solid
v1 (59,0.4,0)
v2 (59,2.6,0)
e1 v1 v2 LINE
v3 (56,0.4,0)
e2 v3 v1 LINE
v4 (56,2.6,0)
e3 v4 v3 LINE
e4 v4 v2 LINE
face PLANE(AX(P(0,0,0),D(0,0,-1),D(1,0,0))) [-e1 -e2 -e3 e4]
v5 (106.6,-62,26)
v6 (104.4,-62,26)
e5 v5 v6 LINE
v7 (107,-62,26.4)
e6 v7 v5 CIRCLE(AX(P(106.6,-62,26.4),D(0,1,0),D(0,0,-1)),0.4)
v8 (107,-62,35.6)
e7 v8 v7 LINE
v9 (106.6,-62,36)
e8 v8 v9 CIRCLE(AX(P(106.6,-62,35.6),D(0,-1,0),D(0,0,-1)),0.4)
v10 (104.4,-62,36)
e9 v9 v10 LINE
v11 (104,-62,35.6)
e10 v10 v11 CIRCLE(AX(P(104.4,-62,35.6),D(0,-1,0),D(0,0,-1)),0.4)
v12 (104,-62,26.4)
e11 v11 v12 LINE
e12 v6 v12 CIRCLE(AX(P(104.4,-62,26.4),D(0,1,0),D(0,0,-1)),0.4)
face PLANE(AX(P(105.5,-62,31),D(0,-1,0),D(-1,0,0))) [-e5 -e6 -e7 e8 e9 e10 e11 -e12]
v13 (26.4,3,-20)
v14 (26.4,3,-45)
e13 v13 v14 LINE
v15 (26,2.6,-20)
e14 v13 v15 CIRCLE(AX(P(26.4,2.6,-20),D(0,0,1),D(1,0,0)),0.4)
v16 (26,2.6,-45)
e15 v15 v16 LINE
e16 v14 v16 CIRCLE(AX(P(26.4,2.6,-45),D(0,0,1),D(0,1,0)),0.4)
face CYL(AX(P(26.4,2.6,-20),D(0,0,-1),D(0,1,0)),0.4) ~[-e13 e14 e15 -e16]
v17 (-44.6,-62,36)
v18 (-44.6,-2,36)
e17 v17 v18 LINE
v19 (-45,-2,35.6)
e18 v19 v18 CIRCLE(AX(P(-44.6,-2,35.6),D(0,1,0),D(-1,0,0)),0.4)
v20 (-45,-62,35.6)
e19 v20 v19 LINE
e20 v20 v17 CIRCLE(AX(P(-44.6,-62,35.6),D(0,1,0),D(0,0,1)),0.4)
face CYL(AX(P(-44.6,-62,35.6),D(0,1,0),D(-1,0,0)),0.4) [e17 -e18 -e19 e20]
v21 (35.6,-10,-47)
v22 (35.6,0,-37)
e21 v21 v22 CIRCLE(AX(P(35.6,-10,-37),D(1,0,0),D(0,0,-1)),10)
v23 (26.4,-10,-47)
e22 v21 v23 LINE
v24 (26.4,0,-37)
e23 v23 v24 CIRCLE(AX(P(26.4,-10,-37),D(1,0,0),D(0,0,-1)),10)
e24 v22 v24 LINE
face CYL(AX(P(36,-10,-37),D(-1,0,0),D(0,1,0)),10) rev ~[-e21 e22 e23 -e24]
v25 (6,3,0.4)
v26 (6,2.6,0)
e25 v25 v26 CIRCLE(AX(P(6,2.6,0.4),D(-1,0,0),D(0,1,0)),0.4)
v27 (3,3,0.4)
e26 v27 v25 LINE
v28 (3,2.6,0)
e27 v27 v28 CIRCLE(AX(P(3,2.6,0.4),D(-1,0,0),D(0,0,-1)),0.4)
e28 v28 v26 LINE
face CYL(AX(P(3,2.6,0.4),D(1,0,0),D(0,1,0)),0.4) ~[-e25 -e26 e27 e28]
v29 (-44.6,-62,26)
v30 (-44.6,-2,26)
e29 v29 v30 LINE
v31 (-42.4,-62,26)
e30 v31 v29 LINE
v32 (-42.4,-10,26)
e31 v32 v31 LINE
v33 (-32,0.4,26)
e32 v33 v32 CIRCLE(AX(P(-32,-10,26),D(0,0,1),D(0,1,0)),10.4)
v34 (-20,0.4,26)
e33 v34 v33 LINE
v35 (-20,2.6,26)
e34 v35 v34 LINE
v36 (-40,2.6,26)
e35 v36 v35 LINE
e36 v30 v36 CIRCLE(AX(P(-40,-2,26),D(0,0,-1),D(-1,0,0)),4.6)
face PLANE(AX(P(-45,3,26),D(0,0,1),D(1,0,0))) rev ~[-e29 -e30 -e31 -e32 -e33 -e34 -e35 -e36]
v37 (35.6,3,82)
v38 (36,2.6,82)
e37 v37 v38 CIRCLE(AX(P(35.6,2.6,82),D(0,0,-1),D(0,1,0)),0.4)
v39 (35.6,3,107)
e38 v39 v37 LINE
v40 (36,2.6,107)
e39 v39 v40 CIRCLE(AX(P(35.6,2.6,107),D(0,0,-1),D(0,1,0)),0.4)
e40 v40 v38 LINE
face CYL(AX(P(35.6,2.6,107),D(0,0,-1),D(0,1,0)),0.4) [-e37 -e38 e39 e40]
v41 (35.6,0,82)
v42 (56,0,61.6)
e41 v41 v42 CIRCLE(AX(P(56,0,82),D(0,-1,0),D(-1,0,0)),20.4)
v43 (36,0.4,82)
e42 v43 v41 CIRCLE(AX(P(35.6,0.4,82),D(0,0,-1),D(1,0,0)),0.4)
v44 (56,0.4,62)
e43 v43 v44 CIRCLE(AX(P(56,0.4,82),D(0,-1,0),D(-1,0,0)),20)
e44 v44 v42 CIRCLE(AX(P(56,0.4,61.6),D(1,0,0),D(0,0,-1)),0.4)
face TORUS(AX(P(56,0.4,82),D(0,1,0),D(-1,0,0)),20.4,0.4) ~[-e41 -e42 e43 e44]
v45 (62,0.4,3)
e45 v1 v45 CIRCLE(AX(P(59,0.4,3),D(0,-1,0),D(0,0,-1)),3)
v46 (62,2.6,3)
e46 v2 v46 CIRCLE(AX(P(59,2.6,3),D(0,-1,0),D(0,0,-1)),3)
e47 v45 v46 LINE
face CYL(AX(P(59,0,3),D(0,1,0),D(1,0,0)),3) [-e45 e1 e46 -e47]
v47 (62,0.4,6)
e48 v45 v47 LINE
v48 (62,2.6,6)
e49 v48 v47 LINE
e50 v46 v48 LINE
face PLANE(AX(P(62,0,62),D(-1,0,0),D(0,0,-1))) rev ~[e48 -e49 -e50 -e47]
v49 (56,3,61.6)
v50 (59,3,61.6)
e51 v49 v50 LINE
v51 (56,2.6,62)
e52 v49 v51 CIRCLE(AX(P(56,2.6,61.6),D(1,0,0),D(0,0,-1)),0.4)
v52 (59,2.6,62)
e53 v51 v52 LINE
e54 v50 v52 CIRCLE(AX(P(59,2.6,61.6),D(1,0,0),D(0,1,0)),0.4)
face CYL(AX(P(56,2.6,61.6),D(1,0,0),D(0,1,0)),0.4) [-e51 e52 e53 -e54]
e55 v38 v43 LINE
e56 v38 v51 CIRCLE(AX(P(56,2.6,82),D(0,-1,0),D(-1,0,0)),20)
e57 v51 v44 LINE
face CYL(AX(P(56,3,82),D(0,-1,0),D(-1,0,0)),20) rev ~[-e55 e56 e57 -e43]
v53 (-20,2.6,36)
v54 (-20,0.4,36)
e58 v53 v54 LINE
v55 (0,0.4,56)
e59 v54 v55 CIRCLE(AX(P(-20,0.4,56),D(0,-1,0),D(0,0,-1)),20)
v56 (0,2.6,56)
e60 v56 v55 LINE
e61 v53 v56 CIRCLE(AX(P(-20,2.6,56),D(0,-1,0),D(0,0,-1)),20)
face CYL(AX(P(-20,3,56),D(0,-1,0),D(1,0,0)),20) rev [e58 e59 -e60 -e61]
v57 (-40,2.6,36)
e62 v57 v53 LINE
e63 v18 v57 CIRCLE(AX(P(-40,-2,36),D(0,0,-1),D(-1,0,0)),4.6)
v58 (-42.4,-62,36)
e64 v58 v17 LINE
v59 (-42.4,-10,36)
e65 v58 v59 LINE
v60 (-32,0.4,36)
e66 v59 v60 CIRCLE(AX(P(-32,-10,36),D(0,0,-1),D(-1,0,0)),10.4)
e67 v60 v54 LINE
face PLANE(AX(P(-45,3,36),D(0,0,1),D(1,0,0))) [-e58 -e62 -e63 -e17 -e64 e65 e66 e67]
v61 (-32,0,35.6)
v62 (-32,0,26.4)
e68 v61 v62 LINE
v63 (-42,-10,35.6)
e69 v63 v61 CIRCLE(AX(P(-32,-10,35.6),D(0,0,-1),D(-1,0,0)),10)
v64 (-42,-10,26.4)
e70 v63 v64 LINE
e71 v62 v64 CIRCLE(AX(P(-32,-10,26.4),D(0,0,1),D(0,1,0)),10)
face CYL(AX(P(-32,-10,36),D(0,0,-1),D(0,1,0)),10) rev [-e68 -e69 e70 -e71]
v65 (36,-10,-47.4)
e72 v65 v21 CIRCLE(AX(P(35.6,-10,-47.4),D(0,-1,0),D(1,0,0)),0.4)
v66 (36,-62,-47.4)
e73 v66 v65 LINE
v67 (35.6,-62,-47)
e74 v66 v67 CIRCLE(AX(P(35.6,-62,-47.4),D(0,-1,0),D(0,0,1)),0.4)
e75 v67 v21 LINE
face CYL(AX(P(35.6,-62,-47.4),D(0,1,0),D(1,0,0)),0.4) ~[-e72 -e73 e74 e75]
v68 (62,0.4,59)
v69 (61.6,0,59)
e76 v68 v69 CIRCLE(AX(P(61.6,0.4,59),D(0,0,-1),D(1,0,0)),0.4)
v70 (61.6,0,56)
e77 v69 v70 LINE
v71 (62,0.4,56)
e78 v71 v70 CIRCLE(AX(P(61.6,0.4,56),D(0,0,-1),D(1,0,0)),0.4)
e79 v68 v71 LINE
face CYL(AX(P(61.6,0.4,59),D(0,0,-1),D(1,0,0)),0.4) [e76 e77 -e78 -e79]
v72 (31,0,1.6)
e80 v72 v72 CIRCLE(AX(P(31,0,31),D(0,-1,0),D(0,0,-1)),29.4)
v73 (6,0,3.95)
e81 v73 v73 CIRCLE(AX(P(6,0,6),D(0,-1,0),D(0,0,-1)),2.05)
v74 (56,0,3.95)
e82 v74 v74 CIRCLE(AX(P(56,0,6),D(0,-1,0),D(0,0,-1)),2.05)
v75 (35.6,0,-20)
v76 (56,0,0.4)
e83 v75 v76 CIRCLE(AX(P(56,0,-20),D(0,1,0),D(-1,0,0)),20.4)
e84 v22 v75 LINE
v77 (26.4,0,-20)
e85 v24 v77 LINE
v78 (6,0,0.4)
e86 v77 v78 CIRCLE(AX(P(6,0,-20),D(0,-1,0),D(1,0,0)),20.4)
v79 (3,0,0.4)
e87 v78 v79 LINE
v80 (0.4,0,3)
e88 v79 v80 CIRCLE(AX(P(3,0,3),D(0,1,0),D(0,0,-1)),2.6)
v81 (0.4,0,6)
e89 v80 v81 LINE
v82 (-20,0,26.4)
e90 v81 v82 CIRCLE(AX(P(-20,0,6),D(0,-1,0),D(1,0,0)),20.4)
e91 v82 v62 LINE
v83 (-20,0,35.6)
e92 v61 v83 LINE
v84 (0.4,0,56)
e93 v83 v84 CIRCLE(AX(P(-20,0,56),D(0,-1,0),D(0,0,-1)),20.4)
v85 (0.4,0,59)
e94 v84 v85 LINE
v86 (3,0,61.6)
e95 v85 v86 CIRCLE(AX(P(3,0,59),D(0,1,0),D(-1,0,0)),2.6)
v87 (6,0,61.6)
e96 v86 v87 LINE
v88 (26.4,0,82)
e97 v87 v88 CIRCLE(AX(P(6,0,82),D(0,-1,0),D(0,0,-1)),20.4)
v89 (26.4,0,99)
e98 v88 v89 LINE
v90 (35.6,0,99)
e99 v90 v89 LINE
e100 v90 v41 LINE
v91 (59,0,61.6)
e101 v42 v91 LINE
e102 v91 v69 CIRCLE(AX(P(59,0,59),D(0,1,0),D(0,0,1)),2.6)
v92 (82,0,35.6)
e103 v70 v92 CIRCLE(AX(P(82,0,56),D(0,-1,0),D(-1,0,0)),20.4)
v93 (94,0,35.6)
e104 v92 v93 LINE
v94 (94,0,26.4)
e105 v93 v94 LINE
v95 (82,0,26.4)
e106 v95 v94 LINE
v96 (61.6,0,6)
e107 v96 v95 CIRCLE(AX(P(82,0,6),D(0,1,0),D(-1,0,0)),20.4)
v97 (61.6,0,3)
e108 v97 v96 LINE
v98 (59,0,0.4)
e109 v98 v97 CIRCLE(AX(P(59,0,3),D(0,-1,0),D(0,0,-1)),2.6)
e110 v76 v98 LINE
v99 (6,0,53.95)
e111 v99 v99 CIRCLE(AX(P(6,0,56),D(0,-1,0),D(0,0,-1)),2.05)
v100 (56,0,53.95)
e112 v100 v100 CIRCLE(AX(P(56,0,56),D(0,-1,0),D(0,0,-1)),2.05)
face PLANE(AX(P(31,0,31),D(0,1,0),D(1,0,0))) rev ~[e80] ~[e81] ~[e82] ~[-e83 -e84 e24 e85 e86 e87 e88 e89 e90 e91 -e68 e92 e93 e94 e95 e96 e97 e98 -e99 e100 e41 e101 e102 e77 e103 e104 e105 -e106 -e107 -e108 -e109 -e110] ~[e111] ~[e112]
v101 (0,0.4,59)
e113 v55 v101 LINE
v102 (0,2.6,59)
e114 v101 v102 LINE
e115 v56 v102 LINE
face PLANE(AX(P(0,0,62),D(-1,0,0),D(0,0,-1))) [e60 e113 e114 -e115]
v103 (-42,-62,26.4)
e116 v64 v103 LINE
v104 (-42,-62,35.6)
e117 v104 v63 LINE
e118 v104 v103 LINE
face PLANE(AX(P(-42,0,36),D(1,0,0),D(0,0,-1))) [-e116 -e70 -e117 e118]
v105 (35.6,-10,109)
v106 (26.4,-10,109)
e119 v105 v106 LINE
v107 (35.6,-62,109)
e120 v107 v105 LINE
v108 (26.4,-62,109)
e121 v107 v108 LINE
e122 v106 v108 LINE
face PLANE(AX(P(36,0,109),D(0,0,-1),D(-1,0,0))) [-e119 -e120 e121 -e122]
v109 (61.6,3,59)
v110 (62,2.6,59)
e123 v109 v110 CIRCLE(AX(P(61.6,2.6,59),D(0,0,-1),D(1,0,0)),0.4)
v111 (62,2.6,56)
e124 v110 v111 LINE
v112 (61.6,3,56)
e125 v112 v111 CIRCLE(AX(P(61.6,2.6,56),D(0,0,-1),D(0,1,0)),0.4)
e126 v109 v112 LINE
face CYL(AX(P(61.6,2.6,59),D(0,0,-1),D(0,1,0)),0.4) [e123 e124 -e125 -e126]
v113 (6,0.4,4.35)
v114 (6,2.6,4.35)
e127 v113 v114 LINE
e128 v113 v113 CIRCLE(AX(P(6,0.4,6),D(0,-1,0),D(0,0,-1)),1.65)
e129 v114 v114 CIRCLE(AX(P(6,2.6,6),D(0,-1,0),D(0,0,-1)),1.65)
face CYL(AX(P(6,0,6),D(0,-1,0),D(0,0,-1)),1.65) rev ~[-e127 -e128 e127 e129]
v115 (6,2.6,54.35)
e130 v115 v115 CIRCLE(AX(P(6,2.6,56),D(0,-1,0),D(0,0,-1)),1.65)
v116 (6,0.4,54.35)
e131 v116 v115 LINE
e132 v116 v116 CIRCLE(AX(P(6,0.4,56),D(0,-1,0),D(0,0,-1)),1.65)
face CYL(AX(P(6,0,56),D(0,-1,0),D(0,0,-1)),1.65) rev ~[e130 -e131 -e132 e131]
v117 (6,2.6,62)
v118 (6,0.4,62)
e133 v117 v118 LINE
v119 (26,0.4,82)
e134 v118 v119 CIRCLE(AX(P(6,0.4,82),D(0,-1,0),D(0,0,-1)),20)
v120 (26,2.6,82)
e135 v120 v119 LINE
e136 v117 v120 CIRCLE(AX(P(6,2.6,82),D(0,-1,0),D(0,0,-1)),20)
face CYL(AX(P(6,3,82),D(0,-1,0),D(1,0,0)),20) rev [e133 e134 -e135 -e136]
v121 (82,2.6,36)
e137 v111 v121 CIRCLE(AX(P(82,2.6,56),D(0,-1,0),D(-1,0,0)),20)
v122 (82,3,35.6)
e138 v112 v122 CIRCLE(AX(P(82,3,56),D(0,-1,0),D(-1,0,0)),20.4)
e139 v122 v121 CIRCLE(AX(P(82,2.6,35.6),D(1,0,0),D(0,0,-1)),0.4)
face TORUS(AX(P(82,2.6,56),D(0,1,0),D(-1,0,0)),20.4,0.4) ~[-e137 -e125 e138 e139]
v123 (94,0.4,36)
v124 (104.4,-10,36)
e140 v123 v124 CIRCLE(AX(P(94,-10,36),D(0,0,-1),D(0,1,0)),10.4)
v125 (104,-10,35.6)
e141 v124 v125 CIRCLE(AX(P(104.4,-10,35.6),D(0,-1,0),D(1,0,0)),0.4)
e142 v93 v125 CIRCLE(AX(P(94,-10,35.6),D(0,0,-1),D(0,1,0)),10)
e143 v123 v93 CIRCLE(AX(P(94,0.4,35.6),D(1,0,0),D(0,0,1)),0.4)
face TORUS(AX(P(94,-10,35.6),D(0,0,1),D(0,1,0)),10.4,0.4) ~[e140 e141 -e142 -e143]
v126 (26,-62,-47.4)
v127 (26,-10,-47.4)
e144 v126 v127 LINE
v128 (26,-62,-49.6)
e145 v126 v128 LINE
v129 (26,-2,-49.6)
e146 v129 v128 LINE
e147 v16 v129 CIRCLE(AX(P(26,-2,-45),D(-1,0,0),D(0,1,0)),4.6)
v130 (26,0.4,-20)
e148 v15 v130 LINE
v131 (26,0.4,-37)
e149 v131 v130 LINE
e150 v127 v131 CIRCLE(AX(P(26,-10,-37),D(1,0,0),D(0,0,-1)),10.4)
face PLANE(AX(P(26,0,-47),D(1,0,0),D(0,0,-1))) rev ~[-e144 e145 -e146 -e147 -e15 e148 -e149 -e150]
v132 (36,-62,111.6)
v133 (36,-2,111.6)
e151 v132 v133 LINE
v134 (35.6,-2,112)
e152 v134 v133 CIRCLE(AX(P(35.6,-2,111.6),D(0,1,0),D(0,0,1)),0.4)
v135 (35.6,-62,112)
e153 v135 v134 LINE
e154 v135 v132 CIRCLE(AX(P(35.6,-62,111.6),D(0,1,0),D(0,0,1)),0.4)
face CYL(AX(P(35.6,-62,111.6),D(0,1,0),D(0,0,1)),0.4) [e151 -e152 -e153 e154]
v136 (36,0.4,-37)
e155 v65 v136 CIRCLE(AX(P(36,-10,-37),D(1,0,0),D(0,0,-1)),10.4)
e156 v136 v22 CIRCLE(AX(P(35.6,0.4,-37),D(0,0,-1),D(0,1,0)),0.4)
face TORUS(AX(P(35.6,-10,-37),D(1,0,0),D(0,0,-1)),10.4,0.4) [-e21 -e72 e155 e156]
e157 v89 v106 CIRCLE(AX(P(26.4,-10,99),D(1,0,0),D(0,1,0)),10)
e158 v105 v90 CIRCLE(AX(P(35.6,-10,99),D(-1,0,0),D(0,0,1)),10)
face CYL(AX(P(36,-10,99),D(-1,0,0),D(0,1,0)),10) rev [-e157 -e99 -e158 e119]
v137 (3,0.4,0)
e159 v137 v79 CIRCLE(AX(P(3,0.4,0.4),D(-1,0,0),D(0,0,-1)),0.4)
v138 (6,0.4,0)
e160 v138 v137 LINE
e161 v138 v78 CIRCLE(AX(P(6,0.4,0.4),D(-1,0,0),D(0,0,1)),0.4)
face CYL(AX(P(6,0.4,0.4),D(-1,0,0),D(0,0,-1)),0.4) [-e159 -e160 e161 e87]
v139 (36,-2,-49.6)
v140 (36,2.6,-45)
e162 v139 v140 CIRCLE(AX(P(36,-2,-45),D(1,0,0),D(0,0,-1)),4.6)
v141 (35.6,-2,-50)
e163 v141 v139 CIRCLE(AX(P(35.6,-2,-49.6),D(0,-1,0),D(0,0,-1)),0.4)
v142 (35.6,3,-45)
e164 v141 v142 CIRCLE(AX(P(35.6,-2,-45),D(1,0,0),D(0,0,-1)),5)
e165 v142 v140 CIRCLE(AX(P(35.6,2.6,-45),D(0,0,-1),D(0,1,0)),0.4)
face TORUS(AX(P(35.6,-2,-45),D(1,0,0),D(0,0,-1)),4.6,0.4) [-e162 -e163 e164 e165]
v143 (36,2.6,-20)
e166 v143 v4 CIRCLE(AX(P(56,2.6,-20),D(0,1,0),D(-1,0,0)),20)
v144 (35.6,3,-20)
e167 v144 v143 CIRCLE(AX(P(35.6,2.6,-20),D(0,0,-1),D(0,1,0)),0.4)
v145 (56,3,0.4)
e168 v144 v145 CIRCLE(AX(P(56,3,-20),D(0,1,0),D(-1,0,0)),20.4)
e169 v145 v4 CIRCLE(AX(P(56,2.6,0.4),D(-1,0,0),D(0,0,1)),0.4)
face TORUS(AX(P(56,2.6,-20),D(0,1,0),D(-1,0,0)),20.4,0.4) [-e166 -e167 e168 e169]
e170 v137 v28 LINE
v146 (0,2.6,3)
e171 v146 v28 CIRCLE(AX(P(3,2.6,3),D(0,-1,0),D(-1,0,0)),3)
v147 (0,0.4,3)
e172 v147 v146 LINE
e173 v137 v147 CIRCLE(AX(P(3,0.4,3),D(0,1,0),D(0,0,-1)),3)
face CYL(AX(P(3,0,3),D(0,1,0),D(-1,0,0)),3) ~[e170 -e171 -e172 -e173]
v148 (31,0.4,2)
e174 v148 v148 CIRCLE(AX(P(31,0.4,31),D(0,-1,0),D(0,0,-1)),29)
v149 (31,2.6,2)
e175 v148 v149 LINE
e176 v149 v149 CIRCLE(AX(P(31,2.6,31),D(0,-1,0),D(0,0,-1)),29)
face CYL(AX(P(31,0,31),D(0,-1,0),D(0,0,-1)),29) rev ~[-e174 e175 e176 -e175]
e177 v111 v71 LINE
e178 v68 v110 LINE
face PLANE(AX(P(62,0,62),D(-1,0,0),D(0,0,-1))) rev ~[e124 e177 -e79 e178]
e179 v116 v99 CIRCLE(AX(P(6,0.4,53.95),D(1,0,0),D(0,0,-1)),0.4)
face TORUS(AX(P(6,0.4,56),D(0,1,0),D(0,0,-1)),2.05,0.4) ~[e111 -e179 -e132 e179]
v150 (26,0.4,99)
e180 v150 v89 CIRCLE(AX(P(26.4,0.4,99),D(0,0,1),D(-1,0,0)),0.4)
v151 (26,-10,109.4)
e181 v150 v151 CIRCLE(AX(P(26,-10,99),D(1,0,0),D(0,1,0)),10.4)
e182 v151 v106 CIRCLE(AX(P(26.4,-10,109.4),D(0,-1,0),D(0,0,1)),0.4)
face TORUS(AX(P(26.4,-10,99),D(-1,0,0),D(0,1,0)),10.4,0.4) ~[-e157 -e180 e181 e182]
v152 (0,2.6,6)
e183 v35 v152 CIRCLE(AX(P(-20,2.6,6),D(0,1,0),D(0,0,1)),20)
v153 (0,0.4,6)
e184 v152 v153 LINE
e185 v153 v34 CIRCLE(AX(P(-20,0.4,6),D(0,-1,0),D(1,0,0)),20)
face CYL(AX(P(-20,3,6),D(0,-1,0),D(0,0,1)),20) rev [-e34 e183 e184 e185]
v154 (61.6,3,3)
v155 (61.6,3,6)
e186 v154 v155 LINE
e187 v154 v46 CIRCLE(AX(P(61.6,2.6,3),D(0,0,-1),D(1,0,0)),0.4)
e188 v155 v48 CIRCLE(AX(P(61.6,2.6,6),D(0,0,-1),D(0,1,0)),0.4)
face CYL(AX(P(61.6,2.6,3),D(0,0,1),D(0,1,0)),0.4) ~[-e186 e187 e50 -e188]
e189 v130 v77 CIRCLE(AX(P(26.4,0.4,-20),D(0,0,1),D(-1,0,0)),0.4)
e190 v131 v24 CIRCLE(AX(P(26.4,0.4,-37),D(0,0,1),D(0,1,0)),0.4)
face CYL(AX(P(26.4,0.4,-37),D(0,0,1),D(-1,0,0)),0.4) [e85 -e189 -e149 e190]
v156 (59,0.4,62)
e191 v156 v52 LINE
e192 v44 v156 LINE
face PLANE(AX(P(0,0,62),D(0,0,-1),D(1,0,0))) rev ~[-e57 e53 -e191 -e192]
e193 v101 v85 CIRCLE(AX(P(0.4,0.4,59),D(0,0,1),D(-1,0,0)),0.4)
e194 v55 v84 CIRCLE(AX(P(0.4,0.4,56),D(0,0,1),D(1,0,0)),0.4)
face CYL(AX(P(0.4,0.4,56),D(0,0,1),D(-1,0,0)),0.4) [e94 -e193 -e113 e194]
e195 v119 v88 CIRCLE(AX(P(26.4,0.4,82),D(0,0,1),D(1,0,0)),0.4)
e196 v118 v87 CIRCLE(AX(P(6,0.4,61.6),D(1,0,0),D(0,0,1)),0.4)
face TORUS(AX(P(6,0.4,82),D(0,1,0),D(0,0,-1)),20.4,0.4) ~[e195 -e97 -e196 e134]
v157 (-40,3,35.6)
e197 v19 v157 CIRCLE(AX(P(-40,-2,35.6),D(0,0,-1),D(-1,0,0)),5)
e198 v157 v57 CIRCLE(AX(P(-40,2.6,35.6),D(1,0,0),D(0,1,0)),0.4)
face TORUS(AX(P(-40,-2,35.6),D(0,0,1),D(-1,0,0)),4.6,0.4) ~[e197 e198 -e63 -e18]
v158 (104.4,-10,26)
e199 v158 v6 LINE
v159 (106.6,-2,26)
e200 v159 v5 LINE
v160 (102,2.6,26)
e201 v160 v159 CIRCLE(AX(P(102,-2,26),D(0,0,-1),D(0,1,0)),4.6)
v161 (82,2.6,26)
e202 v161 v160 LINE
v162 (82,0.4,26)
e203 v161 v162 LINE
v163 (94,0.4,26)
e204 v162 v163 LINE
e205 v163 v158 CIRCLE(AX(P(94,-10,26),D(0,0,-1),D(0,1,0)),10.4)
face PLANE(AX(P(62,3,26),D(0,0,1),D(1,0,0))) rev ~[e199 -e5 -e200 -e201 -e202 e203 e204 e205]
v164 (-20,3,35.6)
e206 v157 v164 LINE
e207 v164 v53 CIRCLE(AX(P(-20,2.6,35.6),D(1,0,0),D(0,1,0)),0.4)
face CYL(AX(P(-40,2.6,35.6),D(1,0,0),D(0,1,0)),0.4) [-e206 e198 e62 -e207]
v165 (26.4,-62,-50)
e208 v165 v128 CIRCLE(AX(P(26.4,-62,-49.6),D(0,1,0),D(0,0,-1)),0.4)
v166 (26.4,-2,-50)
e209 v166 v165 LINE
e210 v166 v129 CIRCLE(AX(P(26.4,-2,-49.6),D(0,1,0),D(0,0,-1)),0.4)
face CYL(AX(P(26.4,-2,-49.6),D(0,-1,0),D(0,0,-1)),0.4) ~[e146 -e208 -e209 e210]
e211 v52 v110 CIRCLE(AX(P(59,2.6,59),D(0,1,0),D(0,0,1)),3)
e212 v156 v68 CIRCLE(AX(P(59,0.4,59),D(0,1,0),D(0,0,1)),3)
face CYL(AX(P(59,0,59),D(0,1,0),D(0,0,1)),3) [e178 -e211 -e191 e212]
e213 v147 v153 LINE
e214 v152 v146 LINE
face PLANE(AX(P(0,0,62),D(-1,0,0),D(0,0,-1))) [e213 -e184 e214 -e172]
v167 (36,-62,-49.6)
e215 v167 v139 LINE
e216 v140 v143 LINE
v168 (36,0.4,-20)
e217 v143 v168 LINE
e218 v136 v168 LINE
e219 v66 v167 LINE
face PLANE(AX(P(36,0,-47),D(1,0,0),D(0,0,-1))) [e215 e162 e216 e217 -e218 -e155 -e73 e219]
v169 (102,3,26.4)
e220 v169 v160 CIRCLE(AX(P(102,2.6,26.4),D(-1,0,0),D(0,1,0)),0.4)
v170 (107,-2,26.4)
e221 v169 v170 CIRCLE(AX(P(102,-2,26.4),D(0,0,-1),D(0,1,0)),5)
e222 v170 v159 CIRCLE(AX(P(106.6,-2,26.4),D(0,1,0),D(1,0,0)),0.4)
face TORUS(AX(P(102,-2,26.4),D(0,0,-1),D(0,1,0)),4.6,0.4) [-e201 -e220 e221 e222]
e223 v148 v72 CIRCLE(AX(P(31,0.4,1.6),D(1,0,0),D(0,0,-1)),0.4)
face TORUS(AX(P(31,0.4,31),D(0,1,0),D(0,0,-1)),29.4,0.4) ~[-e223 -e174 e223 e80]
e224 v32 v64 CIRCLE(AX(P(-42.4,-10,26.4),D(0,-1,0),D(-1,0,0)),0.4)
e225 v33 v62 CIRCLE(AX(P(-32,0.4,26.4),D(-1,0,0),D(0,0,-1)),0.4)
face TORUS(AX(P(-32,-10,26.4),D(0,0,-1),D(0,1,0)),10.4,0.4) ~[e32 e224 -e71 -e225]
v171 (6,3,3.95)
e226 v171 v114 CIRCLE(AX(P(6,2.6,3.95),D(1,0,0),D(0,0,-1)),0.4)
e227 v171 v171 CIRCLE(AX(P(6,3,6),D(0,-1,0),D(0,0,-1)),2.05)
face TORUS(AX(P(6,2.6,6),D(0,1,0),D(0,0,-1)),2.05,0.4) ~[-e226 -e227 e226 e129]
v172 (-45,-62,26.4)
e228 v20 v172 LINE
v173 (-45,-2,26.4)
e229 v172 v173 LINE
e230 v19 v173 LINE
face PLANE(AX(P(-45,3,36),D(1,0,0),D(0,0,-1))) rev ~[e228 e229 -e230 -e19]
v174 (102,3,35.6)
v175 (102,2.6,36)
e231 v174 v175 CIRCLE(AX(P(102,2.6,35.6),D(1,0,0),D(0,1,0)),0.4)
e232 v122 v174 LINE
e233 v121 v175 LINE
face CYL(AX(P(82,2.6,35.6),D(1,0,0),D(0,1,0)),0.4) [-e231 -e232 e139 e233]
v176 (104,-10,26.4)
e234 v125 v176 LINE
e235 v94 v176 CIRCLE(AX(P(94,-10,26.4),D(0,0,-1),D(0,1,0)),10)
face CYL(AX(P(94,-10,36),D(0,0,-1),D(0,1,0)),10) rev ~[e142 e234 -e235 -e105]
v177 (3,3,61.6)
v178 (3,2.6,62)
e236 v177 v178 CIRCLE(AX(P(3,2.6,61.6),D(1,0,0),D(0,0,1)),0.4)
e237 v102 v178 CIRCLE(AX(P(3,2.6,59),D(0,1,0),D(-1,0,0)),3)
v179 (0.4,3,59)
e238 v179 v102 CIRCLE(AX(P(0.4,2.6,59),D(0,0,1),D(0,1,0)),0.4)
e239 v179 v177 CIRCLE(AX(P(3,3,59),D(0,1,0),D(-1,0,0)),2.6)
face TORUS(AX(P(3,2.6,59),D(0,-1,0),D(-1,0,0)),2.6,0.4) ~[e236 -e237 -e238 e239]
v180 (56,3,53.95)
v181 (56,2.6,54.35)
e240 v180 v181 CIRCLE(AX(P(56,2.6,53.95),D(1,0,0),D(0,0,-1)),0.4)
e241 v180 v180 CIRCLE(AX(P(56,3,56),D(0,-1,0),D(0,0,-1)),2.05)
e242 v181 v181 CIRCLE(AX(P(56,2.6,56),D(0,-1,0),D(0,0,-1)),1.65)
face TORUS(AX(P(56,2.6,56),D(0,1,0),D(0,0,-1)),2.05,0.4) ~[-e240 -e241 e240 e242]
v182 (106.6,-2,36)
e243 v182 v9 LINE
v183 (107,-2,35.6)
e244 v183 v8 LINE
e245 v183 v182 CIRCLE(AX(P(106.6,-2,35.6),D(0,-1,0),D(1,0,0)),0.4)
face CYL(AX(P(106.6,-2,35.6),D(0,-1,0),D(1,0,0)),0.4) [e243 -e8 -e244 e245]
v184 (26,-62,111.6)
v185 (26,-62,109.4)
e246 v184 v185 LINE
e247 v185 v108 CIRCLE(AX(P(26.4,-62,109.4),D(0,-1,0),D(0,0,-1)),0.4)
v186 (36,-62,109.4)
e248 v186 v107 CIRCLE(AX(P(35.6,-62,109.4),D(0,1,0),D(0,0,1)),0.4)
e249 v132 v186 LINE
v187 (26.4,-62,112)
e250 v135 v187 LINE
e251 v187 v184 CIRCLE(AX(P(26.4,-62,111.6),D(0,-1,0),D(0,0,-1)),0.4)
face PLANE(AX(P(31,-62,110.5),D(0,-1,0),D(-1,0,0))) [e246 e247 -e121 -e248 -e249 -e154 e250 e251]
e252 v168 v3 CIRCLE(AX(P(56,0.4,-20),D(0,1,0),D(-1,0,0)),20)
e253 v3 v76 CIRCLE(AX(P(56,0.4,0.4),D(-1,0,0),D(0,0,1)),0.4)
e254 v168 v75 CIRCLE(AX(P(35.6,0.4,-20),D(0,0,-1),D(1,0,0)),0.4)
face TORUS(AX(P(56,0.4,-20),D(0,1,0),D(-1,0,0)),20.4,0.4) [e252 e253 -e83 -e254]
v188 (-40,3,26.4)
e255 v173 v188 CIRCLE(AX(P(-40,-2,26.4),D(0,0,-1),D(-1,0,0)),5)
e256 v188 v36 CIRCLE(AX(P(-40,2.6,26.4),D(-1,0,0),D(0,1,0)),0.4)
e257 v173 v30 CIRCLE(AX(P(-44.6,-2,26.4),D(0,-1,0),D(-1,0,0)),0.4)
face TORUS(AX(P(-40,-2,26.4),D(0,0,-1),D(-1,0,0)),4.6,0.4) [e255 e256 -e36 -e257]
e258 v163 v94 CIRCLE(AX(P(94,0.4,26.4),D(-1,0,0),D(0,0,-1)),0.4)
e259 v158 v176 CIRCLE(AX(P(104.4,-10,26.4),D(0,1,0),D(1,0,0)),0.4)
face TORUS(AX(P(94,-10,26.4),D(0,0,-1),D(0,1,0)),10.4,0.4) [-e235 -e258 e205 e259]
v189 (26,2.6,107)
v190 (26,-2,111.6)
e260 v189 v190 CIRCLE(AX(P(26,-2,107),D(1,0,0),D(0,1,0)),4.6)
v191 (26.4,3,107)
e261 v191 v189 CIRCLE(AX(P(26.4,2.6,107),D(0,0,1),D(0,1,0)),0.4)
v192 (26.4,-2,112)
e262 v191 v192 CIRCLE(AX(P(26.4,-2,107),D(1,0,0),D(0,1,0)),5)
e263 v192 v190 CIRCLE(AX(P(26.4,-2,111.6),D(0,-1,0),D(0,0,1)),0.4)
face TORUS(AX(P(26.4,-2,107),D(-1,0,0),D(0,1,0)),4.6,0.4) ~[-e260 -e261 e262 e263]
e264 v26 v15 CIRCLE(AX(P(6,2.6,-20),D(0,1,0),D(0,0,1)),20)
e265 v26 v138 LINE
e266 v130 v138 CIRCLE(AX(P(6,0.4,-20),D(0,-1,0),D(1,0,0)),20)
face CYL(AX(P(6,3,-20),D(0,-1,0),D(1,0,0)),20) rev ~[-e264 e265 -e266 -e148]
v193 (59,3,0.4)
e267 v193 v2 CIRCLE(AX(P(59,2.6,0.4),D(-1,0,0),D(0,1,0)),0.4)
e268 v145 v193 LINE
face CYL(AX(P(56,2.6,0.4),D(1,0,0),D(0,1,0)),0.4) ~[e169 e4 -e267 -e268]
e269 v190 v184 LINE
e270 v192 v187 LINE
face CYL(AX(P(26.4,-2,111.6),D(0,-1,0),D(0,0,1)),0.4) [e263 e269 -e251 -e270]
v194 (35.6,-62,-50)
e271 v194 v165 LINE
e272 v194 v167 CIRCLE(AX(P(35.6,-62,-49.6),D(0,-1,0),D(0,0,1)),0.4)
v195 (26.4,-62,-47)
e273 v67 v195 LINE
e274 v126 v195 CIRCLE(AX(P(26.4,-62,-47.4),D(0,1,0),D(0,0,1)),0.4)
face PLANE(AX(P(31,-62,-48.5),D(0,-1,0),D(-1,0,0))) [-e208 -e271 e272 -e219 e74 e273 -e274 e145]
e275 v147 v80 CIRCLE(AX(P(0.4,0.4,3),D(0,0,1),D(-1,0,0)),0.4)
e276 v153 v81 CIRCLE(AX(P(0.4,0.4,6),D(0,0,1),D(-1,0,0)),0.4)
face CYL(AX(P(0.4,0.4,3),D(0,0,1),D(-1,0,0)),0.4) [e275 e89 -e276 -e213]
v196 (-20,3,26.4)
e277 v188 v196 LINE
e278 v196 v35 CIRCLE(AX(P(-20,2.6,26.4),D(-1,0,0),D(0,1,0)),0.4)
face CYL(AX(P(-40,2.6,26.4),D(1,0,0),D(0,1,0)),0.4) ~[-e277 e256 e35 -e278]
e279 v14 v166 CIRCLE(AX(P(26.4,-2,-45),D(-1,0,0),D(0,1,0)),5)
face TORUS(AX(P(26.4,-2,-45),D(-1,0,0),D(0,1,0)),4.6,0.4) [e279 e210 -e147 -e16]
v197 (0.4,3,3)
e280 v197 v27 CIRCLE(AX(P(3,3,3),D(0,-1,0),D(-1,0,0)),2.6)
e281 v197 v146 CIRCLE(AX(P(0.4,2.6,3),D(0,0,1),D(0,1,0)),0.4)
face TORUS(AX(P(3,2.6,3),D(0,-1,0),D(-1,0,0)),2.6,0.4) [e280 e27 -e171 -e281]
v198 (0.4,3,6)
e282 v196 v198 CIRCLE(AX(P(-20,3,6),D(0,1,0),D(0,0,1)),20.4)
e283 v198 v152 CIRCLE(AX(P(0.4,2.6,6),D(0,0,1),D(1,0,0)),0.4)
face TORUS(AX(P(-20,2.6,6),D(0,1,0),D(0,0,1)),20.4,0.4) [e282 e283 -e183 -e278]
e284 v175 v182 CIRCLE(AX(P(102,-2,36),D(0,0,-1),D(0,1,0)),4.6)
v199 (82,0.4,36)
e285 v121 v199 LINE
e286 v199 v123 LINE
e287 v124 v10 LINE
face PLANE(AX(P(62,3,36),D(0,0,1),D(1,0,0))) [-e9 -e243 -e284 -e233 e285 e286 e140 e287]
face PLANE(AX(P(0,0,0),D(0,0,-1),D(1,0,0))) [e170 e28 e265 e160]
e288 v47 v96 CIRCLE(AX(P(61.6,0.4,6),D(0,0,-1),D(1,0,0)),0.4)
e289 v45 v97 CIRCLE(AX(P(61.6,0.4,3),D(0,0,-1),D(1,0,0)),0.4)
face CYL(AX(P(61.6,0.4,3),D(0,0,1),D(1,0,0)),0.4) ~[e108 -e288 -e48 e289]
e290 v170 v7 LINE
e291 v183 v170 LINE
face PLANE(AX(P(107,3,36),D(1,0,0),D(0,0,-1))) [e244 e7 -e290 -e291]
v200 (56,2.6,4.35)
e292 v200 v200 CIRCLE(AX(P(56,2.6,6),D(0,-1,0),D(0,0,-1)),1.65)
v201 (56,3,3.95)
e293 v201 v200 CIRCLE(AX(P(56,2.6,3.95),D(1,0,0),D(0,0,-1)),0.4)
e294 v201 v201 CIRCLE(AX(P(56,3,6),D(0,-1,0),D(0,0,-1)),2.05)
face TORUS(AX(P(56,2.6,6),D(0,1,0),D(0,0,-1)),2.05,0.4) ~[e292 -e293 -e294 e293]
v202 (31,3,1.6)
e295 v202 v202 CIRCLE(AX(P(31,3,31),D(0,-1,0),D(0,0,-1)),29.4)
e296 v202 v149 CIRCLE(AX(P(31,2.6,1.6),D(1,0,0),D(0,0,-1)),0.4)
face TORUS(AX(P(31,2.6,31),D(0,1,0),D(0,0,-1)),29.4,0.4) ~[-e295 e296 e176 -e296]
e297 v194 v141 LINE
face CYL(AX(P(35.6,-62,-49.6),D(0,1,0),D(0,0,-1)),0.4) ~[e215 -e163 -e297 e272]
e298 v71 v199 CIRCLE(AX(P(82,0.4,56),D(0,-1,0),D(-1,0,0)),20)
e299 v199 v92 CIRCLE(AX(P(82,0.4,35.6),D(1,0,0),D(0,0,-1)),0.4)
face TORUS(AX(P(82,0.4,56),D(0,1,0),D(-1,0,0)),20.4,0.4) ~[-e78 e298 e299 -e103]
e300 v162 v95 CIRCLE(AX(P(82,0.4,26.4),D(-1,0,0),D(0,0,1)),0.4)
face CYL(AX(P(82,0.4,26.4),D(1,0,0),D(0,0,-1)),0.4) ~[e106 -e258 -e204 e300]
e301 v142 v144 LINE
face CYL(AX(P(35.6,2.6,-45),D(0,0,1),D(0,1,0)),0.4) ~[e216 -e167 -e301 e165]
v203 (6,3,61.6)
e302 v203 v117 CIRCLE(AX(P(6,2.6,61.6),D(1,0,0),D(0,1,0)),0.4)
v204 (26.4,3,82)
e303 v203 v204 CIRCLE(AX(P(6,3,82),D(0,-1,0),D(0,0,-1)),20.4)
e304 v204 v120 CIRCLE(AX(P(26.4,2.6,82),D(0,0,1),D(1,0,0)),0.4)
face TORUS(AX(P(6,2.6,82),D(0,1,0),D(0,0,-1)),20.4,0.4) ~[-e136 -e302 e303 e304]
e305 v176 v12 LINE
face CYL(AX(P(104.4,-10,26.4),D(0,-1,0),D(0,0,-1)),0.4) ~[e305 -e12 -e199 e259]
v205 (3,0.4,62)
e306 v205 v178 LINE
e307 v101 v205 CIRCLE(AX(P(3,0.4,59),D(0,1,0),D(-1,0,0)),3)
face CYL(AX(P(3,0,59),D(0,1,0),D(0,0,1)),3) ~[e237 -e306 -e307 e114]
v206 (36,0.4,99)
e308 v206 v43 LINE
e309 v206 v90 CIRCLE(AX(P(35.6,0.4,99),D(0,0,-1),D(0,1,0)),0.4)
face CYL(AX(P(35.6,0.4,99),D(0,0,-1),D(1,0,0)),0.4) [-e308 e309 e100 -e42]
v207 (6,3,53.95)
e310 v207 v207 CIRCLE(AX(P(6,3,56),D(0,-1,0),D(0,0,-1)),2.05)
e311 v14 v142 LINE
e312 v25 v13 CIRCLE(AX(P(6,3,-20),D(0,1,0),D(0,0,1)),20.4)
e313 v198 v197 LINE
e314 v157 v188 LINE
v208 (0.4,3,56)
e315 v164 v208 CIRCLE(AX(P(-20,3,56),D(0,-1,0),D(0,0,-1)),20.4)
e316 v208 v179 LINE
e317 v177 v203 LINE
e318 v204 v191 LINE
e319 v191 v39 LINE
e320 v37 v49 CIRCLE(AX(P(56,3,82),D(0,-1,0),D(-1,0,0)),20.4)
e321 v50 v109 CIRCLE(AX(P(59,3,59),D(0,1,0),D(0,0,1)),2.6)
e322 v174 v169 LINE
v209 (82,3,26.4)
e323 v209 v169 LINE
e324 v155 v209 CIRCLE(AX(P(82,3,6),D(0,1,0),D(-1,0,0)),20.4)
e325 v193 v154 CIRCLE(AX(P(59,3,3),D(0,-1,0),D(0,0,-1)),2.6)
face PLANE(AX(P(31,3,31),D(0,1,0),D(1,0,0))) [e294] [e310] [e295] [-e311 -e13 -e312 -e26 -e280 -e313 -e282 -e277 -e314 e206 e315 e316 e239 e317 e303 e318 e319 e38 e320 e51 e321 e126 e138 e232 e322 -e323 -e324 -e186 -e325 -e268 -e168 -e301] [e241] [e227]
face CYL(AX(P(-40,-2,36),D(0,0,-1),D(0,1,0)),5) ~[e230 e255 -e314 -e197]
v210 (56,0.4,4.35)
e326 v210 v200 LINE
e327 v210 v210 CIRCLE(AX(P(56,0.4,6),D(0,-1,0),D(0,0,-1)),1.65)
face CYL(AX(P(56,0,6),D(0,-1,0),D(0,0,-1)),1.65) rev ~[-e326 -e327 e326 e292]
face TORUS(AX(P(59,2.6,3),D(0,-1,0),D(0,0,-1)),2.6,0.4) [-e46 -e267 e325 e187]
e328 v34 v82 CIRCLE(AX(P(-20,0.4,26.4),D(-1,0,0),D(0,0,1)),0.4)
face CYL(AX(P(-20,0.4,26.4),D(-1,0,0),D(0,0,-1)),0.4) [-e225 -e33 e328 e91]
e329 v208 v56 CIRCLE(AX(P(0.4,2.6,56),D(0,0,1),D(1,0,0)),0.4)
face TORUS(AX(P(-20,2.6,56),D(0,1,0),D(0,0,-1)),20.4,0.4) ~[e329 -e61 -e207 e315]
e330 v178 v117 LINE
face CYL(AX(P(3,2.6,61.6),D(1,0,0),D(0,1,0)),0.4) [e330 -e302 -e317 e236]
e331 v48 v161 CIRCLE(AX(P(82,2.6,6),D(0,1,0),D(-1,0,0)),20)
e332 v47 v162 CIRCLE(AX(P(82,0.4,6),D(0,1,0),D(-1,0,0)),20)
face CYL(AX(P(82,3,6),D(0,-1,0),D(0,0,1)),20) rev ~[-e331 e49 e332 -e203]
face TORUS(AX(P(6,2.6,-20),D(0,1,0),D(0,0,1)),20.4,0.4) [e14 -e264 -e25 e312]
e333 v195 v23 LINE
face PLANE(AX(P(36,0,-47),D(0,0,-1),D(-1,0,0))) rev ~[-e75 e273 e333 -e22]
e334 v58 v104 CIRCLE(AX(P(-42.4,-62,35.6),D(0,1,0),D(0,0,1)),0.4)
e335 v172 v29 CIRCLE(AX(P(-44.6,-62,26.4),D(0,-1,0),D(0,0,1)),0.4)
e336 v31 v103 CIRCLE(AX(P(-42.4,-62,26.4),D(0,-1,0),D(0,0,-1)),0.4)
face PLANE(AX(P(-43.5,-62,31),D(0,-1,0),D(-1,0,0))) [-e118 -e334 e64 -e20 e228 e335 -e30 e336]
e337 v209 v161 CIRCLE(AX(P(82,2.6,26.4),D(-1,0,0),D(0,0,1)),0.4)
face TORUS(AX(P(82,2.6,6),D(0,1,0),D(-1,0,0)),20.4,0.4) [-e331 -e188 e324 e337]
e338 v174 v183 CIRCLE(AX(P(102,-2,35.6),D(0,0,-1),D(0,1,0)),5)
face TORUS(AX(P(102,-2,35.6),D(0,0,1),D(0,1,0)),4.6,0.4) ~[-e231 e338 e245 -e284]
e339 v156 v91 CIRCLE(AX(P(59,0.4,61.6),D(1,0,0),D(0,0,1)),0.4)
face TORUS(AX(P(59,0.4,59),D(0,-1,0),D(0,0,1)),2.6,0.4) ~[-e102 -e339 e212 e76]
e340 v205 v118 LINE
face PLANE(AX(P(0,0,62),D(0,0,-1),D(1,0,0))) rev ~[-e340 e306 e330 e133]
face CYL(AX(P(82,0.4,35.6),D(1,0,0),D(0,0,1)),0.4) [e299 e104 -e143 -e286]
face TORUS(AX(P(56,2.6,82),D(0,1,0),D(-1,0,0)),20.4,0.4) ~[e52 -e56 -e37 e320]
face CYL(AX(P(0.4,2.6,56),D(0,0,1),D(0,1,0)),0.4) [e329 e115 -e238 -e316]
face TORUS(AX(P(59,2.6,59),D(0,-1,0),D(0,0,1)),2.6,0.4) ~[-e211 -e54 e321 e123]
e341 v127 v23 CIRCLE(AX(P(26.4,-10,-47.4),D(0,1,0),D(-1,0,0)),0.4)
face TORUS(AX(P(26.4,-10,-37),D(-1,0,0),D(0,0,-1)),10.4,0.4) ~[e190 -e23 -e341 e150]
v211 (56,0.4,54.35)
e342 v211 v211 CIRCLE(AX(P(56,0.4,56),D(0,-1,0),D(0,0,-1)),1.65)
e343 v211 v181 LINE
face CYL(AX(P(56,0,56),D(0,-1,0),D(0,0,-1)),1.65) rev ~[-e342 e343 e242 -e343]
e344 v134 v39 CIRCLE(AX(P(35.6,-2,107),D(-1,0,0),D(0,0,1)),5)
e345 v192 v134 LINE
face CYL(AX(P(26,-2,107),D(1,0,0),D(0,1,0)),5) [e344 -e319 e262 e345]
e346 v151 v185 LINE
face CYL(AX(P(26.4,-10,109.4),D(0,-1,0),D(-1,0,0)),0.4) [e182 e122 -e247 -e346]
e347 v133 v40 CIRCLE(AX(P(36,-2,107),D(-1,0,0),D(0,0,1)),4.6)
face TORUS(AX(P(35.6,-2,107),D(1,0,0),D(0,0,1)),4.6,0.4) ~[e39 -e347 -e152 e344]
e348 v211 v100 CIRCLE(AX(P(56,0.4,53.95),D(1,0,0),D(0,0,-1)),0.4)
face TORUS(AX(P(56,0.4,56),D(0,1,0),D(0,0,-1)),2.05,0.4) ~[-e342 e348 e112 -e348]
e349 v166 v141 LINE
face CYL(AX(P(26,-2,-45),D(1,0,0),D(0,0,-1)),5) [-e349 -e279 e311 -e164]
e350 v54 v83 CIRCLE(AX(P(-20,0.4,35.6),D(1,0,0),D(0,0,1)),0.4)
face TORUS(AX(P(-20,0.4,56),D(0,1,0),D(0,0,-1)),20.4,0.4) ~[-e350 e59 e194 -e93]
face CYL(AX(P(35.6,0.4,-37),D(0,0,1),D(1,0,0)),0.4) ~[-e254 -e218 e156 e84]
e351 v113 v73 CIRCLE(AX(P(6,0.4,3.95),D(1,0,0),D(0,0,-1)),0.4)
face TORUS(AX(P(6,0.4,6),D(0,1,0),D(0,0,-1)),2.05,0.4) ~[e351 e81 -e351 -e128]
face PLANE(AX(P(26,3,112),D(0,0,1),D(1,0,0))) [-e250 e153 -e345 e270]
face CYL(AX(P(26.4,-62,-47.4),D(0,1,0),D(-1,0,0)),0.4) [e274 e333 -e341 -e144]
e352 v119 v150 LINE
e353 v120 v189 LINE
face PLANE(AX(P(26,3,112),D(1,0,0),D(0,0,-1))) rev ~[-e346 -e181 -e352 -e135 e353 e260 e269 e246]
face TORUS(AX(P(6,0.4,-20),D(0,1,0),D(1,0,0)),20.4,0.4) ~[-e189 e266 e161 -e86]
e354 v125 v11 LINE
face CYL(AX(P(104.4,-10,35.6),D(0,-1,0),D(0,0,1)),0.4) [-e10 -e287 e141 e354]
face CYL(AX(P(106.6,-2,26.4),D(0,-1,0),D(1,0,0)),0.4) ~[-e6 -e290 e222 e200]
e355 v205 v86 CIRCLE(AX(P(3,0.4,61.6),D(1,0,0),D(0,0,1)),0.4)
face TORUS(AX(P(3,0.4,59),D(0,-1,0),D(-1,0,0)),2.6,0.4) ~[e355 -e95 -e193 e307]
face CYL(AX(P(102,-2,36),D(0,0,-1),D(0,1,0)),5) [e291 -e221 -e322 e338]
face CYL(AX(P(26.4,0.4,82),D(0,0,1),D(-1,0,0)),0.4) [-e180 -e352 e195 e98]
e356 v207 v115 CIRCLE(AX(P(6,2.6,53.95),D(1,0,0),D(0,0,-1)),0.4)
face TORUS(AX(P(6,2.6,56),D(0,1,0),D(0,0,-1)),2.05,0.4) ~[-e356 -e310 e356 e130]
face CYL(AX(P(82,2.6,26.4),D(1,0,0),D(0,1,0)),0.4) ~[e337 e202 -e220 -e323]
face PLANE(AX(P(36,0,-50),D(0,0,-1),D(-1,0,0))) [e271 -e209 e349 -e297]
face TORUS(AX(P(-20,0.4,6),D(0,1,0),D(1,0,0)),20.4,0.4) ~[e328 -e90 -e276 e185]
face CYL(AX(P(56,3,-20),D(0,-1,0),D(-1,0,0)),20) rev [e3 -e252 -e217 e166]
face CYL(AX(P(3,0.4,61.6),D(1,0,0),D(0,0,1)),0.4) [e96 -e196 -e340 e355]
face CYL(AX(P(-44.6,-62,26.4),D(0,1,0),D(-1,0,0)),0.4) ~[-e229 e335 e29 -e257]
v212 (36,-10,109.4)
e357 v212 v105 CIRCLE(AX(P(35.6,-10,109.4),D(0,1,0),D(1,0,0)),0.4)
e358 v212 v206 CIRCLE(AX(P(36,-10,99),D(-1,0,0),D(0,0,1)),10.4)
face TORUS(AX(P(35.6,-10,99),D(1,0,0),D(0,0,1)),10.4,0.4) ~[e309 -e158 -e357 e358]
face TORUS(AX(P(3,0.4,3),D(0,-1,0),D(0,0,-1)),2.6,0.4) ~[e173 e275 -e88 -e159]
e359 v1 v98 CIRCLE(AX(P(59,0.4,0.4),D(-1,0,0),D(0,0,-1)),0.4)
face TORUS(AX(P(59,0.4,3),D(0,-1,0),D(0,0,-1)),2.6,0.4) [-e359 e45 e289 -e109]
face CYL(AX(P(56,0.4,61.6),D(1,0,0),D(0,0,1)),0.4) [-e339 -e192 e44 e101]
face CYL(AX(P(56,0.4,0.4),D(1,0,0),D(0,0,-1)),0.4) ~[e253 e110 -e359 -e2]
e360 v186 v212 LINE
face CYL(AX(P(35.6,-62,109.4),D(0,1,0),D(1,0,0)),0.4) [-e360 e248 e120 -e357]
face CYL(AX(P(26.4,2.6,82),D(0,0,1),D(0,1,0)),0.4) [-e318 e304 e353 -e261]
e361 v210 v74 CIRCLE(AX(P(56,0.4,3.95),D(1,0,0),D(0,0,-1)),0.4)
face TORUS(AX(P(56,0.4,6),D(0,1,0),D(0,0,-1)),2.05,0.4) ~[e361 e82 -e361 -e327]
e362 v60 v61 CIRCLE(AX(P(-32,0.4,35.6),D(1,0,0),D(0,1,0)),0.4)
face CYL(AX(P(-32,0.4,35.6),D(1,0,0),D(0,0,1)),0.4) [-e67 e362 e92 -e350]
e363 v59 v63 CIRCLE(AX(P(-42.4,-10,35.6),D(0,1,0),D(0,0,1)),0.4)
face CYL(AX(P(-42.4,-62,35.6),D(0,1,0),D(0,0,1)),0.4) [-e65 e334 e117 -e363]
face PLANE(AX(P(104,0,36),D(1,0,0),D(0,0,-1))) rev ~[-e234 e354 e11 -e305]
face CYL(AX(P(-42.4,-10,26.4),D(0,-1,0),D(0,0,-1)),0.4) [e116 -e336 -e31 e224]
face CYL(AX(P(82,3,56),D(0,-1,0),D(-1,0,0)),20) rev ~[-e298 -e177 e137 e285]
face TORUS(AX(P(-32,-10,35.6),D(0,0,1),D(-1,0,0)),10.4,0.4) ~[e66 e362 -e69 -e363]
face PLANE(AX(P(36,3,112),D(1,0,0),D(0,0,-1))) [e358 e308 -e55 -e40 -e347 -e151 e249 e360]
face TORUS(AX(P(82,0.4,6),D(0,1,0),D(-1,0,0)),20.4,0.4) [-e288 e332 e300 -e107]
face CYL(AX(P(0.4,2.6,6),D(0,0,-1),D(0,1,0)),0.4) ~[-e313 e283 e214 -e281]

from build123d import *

# Parameters (mm, degrees)
SKETCH1_W           = 62
SKETCH1_H           = 62
BOSS_EXTRUDE1_DEPTH = 3
SKETCH2_R           = 1.65
SKETCH2_R_2         = 29
CUT_EXTRUDE1_DEPTH  = 10
SKETCH3_W           = 10
SKETCH3_H           = 50
SKETCH3_W_2         = 45
SKETCH3_H_2         = 10
BOSS_EXTRUDE2_DEPTH = 3
SKETCH4_W           = 10
SKETCH4_H           = 3
SKETCH4_W_2         = 3
SKETCH4_H_2         = 10
BOSS_EXTRUDE3_DEPTH = 62
FILLET2_R           = 10
FILLET3_R           = 5
FILLET1_R           = 20
FILLET4_R           = 3
FILLET5_R           = 0.4
FILLET7_R           = 0.4


with BuildPart() as part:
    # Sketch1 → Boss-Extrude1 (new body)
    with BuildSketch(Plane(origin=(0, 0, 0), x_dir=(1, 0, 0), z_dir=(0, 1, 0))):
        with Locations((31, -31)):
            Rectangle(SKETCH1_W, SKETCH1_H)
    extrude(amount=BOSS_EXTRUDE1_DEPTH)

    # Sketch2 → Cut-Extrude1 (cut)
    with BuildSketch(Plane(origin=(0, 0, 0), x_dir=(-1, 0, 0), z_dir=(0, -1, 0))):
        with Locations(Location((-56, -56, 0), (0, 0, 90))):
            Circle(SKETCH2_R)
        with Locations(Location((-6, -56, 0), (0, 0, 90))):
            Circle(SKETCH2_R)
        with Locations(Location((-6, -6, 0), (0, 0, 90))):
            Circle(SKETCH2_R)
        with Locations(Location((-56, -6, 0), (0, 0, 90))):
            Circle(SKETCH2_R)
        with Locations(Location((-31, -31, 0), (0, 0, 90))):
            Circle(SKETCH2_R_2)
    extrude(amount=-CUT_EXTRUDE1_DEPTH, mode=Mode.SUBTRACT)

    # Sketch3 → Boss-Extrude2 (add)
    with BuildSketch(Plane(origin=(0, 3, 0), x_dir=(1, 0, 0), z_dir=(0, 1, 0))):
        with Locations((31, 25)):
            Rectangle(SKETCH3_W, SKETCH3_H)
        with Locations((-22.5, -31)):
            Rectangle(SKETCH3_W_2, SKETCH3_H_2)
        with Locations((84.5, -31)):
            Rectangle(SKETCH3_W_2, SKETCH3_H_2)
        with Locations((31, -87)):
            Rectangle(SKETCH3_W, SKETCH3_H)
    extrude(amount=-BOSS_EXTRUDE2_DEPTH)

    # Sketch4 → Boss-Extrude3 (add)
    with BuildSketch(Plane(origin=(0, 0, 0), x_dir=(-1, 0, 0), z_dir=(0, -1, 0))):
        with Locations((-31, 48.5)):
            Rectangle(SKETCH4_W, SKETCH4_H)
        with Locations((-105.5, -31)):
            Rectangle(SKETCH4_W_2, SKETCH4_H_2)
        with Locations((-31, -110.5)):
            Rectangle(SKETCH4_W, SKETCH4_H)
        with Locations((43.5, -31)):
            Rectangle(SKETCH4_W_2, SKETCH4_H_2)
    extrude(amount=BOSS_EXTRUDE3_DEPTH)

    # Fillet2
    fillet2_edges = [part.edges().sort_by_distance(p)[0] for p in [
        (104, 0, 31),
        (31, 0, 109),
        (-42, 0, 31),
        (31, 0, -47),
    ]]
    fillet(fillet2_edges, radius=FILLET2_R)

    # Fillet3
    fillet3_edges = [part.edges().sort_by_distance(p)[0] for p in [
        (31, 3, -50),
        (-45, 3, 31),
        (107, 3, 31),
        (31, 3, 112),
    ]]
    fillet(fillet3_edges, radius=FILLET3_R)

    # Fillet1
    fillet1_edges = [part.edges().sort_by_distance(p)[0] for p in [
        (26, 1.5, 0),
        (36, 1.5, 0),
        (0, 1.5, 26),
        (0, 1.5, 36),
        (62, 1.5, 36),
        (62, 1.5, 26),
        (26, 1.5, 62),
        (36, 1.5, 62),
    ]]
    fillet(fillet1_edges, radius=FILLET1_R)

    # Fillet4
    fillet4_edges = [part.edges().sort_by_distance(p)[0] for p in [
        (0, 1.5, 0),
        (62, 1.5, 0),
        (62, 1.5, 62),
        (0, 1.5, 62),
    ]]
    fillet(fillet4_edges, radius=FILLET4_R)

    # Fillet5
    fillet5_edges = [part.edges().sort_by_distance(p)[0] for p in [
        (-30, 3, 36),
        (36, 3, 94.5),
        (92, 3, 26),
        (26, 3, -32.5),
        (105.535533906, 1.535533906, 26),
        (105.535533906, 1.535533906, 36),
        (36, 1.535533906, 110.535533906),
        (26, 1.535533906, 110.535533906),
        (-43.535533906, 1.535533906, 36),
        (-43.535533906, 1.535533906, 26),
        (26, 1.535533906, -48.535533906),
        (36, 1.535533906, -48.535533906),
        (6, 3, 57.65),
        (36, 3, -32.5),
        (4.5, 3, 0),
        (-30, 3, 26),
        (0, 3, 57.5),
        (26, 3, 94.5),
        (57.5, 3, 62),
        (62, 3, 4.5),
        (92, 3, 36),
        (41.857864376, 3, -5.857864376),
        (20.142135624, 3, -5.857864376),
        (-5.857864376, 3, 20.142135624),
        (-5.857864376, 3, 41.857864376),
        (6, 3, 7.65),
        (20.142135624, 3, 67.857864376),
        (41.857864376, 3, 67.857864376),
        (67.857864376, 3, 20.142135624),
        (67.857864376, 3, 41.857864376),
        (31, 3, 60),
        (57.5, 3, 0),
        (62, 3, 57.5),
        (56, 3, 7.65),
        (0, 3, 4.5),
        (4.5, 3, 62),
        (0.878679656, 3, 0.878679656),
        (0.878679656, 3, 61.121320344),
        (61.121320344, 3, 61.121320344),
        (61.121320344, 3, 0.878679656),
        (56, 3, 57.65),
        (26, -32, -50),
        (36, -32, -50),
        (-45, -32, 36),
        (-45, -32, 26),
        (107, -32, 26),
        (107, -32, 36),
        (26, -32, 112),
        (36, -32, 112),
    ]]
    fillet(fillet5_edges, radius=FILLET5_R)

    # Fillet7
    fillet7_edges = [part.edges().sort_by_distance(p)[0] for p in [
        (104, -36, 36),
        (104, -36, 26),
        (36, -36, 109),
        (26, -36, 109),
        (-42, -36, 26),
        (-42, -36, 36),
        (26, 0, -28.5),
        (88, 0, 26),
        (36, 0, 90.5),
        (-26, 0, 36),
        (36, -2.928932188, 106.071067812),
        (26, -2.928932188, 106.071067812),
        (-39.071067812, -2.928932188, 36),
        (-39.071067812, -2.928932188, 26),
        (26, -2.928932188, -44.071067812),
        (36, -2.928932188, -44.071067812),
        (101.071067812, -2.928932188, 26),
        (101.071067812, -2.928932188, 36),
        (6, 0, 57.65),
        (36, 0, -28.5),
        (4.5, 0, 0),
        (-26, 0, 26),
        (0, 0, 57.5),
        (26, 0, 90.5),
        (57.5, 0, 62),
        (62, 0, 4.5),
        (88, 0, 36),
        (41.857864376, 0, -5.857864376),
        (20.142135624, 0, -5.857864376),
        (-5.857864376, 0, 20.142135624),
        (-5.857864376, 0, 41.857864376),
        (6, 0, 7.65),
        (20.142135624, 0, 67.857864376),
        (41.857864376, 0, 67.857864376),
        (67.857864376, 0, 20.142135624),
        (67.857864376, 0, 41.857864376),
        (31, 0, 60),
        (57.5, 0, 0),
        (4.5, 0, 62),
        (0, 0, 4.5),
        (62, 0, 57.5),
        (0.878679656, 0, 0.878679656),
        (0.878679656, 0, 61.121320344),
        (61.121320344, 0, 61.121320344),
        (61.121320344, 0, 0.878679656),
        (56, 0, 7.65),
        (56, 0, 57.65),
        (36, -36, -47),
        (26, -36, -47),
    ]]
    fillet(fillet7_edges, radius=FILLET7_R)


solid = part.part
